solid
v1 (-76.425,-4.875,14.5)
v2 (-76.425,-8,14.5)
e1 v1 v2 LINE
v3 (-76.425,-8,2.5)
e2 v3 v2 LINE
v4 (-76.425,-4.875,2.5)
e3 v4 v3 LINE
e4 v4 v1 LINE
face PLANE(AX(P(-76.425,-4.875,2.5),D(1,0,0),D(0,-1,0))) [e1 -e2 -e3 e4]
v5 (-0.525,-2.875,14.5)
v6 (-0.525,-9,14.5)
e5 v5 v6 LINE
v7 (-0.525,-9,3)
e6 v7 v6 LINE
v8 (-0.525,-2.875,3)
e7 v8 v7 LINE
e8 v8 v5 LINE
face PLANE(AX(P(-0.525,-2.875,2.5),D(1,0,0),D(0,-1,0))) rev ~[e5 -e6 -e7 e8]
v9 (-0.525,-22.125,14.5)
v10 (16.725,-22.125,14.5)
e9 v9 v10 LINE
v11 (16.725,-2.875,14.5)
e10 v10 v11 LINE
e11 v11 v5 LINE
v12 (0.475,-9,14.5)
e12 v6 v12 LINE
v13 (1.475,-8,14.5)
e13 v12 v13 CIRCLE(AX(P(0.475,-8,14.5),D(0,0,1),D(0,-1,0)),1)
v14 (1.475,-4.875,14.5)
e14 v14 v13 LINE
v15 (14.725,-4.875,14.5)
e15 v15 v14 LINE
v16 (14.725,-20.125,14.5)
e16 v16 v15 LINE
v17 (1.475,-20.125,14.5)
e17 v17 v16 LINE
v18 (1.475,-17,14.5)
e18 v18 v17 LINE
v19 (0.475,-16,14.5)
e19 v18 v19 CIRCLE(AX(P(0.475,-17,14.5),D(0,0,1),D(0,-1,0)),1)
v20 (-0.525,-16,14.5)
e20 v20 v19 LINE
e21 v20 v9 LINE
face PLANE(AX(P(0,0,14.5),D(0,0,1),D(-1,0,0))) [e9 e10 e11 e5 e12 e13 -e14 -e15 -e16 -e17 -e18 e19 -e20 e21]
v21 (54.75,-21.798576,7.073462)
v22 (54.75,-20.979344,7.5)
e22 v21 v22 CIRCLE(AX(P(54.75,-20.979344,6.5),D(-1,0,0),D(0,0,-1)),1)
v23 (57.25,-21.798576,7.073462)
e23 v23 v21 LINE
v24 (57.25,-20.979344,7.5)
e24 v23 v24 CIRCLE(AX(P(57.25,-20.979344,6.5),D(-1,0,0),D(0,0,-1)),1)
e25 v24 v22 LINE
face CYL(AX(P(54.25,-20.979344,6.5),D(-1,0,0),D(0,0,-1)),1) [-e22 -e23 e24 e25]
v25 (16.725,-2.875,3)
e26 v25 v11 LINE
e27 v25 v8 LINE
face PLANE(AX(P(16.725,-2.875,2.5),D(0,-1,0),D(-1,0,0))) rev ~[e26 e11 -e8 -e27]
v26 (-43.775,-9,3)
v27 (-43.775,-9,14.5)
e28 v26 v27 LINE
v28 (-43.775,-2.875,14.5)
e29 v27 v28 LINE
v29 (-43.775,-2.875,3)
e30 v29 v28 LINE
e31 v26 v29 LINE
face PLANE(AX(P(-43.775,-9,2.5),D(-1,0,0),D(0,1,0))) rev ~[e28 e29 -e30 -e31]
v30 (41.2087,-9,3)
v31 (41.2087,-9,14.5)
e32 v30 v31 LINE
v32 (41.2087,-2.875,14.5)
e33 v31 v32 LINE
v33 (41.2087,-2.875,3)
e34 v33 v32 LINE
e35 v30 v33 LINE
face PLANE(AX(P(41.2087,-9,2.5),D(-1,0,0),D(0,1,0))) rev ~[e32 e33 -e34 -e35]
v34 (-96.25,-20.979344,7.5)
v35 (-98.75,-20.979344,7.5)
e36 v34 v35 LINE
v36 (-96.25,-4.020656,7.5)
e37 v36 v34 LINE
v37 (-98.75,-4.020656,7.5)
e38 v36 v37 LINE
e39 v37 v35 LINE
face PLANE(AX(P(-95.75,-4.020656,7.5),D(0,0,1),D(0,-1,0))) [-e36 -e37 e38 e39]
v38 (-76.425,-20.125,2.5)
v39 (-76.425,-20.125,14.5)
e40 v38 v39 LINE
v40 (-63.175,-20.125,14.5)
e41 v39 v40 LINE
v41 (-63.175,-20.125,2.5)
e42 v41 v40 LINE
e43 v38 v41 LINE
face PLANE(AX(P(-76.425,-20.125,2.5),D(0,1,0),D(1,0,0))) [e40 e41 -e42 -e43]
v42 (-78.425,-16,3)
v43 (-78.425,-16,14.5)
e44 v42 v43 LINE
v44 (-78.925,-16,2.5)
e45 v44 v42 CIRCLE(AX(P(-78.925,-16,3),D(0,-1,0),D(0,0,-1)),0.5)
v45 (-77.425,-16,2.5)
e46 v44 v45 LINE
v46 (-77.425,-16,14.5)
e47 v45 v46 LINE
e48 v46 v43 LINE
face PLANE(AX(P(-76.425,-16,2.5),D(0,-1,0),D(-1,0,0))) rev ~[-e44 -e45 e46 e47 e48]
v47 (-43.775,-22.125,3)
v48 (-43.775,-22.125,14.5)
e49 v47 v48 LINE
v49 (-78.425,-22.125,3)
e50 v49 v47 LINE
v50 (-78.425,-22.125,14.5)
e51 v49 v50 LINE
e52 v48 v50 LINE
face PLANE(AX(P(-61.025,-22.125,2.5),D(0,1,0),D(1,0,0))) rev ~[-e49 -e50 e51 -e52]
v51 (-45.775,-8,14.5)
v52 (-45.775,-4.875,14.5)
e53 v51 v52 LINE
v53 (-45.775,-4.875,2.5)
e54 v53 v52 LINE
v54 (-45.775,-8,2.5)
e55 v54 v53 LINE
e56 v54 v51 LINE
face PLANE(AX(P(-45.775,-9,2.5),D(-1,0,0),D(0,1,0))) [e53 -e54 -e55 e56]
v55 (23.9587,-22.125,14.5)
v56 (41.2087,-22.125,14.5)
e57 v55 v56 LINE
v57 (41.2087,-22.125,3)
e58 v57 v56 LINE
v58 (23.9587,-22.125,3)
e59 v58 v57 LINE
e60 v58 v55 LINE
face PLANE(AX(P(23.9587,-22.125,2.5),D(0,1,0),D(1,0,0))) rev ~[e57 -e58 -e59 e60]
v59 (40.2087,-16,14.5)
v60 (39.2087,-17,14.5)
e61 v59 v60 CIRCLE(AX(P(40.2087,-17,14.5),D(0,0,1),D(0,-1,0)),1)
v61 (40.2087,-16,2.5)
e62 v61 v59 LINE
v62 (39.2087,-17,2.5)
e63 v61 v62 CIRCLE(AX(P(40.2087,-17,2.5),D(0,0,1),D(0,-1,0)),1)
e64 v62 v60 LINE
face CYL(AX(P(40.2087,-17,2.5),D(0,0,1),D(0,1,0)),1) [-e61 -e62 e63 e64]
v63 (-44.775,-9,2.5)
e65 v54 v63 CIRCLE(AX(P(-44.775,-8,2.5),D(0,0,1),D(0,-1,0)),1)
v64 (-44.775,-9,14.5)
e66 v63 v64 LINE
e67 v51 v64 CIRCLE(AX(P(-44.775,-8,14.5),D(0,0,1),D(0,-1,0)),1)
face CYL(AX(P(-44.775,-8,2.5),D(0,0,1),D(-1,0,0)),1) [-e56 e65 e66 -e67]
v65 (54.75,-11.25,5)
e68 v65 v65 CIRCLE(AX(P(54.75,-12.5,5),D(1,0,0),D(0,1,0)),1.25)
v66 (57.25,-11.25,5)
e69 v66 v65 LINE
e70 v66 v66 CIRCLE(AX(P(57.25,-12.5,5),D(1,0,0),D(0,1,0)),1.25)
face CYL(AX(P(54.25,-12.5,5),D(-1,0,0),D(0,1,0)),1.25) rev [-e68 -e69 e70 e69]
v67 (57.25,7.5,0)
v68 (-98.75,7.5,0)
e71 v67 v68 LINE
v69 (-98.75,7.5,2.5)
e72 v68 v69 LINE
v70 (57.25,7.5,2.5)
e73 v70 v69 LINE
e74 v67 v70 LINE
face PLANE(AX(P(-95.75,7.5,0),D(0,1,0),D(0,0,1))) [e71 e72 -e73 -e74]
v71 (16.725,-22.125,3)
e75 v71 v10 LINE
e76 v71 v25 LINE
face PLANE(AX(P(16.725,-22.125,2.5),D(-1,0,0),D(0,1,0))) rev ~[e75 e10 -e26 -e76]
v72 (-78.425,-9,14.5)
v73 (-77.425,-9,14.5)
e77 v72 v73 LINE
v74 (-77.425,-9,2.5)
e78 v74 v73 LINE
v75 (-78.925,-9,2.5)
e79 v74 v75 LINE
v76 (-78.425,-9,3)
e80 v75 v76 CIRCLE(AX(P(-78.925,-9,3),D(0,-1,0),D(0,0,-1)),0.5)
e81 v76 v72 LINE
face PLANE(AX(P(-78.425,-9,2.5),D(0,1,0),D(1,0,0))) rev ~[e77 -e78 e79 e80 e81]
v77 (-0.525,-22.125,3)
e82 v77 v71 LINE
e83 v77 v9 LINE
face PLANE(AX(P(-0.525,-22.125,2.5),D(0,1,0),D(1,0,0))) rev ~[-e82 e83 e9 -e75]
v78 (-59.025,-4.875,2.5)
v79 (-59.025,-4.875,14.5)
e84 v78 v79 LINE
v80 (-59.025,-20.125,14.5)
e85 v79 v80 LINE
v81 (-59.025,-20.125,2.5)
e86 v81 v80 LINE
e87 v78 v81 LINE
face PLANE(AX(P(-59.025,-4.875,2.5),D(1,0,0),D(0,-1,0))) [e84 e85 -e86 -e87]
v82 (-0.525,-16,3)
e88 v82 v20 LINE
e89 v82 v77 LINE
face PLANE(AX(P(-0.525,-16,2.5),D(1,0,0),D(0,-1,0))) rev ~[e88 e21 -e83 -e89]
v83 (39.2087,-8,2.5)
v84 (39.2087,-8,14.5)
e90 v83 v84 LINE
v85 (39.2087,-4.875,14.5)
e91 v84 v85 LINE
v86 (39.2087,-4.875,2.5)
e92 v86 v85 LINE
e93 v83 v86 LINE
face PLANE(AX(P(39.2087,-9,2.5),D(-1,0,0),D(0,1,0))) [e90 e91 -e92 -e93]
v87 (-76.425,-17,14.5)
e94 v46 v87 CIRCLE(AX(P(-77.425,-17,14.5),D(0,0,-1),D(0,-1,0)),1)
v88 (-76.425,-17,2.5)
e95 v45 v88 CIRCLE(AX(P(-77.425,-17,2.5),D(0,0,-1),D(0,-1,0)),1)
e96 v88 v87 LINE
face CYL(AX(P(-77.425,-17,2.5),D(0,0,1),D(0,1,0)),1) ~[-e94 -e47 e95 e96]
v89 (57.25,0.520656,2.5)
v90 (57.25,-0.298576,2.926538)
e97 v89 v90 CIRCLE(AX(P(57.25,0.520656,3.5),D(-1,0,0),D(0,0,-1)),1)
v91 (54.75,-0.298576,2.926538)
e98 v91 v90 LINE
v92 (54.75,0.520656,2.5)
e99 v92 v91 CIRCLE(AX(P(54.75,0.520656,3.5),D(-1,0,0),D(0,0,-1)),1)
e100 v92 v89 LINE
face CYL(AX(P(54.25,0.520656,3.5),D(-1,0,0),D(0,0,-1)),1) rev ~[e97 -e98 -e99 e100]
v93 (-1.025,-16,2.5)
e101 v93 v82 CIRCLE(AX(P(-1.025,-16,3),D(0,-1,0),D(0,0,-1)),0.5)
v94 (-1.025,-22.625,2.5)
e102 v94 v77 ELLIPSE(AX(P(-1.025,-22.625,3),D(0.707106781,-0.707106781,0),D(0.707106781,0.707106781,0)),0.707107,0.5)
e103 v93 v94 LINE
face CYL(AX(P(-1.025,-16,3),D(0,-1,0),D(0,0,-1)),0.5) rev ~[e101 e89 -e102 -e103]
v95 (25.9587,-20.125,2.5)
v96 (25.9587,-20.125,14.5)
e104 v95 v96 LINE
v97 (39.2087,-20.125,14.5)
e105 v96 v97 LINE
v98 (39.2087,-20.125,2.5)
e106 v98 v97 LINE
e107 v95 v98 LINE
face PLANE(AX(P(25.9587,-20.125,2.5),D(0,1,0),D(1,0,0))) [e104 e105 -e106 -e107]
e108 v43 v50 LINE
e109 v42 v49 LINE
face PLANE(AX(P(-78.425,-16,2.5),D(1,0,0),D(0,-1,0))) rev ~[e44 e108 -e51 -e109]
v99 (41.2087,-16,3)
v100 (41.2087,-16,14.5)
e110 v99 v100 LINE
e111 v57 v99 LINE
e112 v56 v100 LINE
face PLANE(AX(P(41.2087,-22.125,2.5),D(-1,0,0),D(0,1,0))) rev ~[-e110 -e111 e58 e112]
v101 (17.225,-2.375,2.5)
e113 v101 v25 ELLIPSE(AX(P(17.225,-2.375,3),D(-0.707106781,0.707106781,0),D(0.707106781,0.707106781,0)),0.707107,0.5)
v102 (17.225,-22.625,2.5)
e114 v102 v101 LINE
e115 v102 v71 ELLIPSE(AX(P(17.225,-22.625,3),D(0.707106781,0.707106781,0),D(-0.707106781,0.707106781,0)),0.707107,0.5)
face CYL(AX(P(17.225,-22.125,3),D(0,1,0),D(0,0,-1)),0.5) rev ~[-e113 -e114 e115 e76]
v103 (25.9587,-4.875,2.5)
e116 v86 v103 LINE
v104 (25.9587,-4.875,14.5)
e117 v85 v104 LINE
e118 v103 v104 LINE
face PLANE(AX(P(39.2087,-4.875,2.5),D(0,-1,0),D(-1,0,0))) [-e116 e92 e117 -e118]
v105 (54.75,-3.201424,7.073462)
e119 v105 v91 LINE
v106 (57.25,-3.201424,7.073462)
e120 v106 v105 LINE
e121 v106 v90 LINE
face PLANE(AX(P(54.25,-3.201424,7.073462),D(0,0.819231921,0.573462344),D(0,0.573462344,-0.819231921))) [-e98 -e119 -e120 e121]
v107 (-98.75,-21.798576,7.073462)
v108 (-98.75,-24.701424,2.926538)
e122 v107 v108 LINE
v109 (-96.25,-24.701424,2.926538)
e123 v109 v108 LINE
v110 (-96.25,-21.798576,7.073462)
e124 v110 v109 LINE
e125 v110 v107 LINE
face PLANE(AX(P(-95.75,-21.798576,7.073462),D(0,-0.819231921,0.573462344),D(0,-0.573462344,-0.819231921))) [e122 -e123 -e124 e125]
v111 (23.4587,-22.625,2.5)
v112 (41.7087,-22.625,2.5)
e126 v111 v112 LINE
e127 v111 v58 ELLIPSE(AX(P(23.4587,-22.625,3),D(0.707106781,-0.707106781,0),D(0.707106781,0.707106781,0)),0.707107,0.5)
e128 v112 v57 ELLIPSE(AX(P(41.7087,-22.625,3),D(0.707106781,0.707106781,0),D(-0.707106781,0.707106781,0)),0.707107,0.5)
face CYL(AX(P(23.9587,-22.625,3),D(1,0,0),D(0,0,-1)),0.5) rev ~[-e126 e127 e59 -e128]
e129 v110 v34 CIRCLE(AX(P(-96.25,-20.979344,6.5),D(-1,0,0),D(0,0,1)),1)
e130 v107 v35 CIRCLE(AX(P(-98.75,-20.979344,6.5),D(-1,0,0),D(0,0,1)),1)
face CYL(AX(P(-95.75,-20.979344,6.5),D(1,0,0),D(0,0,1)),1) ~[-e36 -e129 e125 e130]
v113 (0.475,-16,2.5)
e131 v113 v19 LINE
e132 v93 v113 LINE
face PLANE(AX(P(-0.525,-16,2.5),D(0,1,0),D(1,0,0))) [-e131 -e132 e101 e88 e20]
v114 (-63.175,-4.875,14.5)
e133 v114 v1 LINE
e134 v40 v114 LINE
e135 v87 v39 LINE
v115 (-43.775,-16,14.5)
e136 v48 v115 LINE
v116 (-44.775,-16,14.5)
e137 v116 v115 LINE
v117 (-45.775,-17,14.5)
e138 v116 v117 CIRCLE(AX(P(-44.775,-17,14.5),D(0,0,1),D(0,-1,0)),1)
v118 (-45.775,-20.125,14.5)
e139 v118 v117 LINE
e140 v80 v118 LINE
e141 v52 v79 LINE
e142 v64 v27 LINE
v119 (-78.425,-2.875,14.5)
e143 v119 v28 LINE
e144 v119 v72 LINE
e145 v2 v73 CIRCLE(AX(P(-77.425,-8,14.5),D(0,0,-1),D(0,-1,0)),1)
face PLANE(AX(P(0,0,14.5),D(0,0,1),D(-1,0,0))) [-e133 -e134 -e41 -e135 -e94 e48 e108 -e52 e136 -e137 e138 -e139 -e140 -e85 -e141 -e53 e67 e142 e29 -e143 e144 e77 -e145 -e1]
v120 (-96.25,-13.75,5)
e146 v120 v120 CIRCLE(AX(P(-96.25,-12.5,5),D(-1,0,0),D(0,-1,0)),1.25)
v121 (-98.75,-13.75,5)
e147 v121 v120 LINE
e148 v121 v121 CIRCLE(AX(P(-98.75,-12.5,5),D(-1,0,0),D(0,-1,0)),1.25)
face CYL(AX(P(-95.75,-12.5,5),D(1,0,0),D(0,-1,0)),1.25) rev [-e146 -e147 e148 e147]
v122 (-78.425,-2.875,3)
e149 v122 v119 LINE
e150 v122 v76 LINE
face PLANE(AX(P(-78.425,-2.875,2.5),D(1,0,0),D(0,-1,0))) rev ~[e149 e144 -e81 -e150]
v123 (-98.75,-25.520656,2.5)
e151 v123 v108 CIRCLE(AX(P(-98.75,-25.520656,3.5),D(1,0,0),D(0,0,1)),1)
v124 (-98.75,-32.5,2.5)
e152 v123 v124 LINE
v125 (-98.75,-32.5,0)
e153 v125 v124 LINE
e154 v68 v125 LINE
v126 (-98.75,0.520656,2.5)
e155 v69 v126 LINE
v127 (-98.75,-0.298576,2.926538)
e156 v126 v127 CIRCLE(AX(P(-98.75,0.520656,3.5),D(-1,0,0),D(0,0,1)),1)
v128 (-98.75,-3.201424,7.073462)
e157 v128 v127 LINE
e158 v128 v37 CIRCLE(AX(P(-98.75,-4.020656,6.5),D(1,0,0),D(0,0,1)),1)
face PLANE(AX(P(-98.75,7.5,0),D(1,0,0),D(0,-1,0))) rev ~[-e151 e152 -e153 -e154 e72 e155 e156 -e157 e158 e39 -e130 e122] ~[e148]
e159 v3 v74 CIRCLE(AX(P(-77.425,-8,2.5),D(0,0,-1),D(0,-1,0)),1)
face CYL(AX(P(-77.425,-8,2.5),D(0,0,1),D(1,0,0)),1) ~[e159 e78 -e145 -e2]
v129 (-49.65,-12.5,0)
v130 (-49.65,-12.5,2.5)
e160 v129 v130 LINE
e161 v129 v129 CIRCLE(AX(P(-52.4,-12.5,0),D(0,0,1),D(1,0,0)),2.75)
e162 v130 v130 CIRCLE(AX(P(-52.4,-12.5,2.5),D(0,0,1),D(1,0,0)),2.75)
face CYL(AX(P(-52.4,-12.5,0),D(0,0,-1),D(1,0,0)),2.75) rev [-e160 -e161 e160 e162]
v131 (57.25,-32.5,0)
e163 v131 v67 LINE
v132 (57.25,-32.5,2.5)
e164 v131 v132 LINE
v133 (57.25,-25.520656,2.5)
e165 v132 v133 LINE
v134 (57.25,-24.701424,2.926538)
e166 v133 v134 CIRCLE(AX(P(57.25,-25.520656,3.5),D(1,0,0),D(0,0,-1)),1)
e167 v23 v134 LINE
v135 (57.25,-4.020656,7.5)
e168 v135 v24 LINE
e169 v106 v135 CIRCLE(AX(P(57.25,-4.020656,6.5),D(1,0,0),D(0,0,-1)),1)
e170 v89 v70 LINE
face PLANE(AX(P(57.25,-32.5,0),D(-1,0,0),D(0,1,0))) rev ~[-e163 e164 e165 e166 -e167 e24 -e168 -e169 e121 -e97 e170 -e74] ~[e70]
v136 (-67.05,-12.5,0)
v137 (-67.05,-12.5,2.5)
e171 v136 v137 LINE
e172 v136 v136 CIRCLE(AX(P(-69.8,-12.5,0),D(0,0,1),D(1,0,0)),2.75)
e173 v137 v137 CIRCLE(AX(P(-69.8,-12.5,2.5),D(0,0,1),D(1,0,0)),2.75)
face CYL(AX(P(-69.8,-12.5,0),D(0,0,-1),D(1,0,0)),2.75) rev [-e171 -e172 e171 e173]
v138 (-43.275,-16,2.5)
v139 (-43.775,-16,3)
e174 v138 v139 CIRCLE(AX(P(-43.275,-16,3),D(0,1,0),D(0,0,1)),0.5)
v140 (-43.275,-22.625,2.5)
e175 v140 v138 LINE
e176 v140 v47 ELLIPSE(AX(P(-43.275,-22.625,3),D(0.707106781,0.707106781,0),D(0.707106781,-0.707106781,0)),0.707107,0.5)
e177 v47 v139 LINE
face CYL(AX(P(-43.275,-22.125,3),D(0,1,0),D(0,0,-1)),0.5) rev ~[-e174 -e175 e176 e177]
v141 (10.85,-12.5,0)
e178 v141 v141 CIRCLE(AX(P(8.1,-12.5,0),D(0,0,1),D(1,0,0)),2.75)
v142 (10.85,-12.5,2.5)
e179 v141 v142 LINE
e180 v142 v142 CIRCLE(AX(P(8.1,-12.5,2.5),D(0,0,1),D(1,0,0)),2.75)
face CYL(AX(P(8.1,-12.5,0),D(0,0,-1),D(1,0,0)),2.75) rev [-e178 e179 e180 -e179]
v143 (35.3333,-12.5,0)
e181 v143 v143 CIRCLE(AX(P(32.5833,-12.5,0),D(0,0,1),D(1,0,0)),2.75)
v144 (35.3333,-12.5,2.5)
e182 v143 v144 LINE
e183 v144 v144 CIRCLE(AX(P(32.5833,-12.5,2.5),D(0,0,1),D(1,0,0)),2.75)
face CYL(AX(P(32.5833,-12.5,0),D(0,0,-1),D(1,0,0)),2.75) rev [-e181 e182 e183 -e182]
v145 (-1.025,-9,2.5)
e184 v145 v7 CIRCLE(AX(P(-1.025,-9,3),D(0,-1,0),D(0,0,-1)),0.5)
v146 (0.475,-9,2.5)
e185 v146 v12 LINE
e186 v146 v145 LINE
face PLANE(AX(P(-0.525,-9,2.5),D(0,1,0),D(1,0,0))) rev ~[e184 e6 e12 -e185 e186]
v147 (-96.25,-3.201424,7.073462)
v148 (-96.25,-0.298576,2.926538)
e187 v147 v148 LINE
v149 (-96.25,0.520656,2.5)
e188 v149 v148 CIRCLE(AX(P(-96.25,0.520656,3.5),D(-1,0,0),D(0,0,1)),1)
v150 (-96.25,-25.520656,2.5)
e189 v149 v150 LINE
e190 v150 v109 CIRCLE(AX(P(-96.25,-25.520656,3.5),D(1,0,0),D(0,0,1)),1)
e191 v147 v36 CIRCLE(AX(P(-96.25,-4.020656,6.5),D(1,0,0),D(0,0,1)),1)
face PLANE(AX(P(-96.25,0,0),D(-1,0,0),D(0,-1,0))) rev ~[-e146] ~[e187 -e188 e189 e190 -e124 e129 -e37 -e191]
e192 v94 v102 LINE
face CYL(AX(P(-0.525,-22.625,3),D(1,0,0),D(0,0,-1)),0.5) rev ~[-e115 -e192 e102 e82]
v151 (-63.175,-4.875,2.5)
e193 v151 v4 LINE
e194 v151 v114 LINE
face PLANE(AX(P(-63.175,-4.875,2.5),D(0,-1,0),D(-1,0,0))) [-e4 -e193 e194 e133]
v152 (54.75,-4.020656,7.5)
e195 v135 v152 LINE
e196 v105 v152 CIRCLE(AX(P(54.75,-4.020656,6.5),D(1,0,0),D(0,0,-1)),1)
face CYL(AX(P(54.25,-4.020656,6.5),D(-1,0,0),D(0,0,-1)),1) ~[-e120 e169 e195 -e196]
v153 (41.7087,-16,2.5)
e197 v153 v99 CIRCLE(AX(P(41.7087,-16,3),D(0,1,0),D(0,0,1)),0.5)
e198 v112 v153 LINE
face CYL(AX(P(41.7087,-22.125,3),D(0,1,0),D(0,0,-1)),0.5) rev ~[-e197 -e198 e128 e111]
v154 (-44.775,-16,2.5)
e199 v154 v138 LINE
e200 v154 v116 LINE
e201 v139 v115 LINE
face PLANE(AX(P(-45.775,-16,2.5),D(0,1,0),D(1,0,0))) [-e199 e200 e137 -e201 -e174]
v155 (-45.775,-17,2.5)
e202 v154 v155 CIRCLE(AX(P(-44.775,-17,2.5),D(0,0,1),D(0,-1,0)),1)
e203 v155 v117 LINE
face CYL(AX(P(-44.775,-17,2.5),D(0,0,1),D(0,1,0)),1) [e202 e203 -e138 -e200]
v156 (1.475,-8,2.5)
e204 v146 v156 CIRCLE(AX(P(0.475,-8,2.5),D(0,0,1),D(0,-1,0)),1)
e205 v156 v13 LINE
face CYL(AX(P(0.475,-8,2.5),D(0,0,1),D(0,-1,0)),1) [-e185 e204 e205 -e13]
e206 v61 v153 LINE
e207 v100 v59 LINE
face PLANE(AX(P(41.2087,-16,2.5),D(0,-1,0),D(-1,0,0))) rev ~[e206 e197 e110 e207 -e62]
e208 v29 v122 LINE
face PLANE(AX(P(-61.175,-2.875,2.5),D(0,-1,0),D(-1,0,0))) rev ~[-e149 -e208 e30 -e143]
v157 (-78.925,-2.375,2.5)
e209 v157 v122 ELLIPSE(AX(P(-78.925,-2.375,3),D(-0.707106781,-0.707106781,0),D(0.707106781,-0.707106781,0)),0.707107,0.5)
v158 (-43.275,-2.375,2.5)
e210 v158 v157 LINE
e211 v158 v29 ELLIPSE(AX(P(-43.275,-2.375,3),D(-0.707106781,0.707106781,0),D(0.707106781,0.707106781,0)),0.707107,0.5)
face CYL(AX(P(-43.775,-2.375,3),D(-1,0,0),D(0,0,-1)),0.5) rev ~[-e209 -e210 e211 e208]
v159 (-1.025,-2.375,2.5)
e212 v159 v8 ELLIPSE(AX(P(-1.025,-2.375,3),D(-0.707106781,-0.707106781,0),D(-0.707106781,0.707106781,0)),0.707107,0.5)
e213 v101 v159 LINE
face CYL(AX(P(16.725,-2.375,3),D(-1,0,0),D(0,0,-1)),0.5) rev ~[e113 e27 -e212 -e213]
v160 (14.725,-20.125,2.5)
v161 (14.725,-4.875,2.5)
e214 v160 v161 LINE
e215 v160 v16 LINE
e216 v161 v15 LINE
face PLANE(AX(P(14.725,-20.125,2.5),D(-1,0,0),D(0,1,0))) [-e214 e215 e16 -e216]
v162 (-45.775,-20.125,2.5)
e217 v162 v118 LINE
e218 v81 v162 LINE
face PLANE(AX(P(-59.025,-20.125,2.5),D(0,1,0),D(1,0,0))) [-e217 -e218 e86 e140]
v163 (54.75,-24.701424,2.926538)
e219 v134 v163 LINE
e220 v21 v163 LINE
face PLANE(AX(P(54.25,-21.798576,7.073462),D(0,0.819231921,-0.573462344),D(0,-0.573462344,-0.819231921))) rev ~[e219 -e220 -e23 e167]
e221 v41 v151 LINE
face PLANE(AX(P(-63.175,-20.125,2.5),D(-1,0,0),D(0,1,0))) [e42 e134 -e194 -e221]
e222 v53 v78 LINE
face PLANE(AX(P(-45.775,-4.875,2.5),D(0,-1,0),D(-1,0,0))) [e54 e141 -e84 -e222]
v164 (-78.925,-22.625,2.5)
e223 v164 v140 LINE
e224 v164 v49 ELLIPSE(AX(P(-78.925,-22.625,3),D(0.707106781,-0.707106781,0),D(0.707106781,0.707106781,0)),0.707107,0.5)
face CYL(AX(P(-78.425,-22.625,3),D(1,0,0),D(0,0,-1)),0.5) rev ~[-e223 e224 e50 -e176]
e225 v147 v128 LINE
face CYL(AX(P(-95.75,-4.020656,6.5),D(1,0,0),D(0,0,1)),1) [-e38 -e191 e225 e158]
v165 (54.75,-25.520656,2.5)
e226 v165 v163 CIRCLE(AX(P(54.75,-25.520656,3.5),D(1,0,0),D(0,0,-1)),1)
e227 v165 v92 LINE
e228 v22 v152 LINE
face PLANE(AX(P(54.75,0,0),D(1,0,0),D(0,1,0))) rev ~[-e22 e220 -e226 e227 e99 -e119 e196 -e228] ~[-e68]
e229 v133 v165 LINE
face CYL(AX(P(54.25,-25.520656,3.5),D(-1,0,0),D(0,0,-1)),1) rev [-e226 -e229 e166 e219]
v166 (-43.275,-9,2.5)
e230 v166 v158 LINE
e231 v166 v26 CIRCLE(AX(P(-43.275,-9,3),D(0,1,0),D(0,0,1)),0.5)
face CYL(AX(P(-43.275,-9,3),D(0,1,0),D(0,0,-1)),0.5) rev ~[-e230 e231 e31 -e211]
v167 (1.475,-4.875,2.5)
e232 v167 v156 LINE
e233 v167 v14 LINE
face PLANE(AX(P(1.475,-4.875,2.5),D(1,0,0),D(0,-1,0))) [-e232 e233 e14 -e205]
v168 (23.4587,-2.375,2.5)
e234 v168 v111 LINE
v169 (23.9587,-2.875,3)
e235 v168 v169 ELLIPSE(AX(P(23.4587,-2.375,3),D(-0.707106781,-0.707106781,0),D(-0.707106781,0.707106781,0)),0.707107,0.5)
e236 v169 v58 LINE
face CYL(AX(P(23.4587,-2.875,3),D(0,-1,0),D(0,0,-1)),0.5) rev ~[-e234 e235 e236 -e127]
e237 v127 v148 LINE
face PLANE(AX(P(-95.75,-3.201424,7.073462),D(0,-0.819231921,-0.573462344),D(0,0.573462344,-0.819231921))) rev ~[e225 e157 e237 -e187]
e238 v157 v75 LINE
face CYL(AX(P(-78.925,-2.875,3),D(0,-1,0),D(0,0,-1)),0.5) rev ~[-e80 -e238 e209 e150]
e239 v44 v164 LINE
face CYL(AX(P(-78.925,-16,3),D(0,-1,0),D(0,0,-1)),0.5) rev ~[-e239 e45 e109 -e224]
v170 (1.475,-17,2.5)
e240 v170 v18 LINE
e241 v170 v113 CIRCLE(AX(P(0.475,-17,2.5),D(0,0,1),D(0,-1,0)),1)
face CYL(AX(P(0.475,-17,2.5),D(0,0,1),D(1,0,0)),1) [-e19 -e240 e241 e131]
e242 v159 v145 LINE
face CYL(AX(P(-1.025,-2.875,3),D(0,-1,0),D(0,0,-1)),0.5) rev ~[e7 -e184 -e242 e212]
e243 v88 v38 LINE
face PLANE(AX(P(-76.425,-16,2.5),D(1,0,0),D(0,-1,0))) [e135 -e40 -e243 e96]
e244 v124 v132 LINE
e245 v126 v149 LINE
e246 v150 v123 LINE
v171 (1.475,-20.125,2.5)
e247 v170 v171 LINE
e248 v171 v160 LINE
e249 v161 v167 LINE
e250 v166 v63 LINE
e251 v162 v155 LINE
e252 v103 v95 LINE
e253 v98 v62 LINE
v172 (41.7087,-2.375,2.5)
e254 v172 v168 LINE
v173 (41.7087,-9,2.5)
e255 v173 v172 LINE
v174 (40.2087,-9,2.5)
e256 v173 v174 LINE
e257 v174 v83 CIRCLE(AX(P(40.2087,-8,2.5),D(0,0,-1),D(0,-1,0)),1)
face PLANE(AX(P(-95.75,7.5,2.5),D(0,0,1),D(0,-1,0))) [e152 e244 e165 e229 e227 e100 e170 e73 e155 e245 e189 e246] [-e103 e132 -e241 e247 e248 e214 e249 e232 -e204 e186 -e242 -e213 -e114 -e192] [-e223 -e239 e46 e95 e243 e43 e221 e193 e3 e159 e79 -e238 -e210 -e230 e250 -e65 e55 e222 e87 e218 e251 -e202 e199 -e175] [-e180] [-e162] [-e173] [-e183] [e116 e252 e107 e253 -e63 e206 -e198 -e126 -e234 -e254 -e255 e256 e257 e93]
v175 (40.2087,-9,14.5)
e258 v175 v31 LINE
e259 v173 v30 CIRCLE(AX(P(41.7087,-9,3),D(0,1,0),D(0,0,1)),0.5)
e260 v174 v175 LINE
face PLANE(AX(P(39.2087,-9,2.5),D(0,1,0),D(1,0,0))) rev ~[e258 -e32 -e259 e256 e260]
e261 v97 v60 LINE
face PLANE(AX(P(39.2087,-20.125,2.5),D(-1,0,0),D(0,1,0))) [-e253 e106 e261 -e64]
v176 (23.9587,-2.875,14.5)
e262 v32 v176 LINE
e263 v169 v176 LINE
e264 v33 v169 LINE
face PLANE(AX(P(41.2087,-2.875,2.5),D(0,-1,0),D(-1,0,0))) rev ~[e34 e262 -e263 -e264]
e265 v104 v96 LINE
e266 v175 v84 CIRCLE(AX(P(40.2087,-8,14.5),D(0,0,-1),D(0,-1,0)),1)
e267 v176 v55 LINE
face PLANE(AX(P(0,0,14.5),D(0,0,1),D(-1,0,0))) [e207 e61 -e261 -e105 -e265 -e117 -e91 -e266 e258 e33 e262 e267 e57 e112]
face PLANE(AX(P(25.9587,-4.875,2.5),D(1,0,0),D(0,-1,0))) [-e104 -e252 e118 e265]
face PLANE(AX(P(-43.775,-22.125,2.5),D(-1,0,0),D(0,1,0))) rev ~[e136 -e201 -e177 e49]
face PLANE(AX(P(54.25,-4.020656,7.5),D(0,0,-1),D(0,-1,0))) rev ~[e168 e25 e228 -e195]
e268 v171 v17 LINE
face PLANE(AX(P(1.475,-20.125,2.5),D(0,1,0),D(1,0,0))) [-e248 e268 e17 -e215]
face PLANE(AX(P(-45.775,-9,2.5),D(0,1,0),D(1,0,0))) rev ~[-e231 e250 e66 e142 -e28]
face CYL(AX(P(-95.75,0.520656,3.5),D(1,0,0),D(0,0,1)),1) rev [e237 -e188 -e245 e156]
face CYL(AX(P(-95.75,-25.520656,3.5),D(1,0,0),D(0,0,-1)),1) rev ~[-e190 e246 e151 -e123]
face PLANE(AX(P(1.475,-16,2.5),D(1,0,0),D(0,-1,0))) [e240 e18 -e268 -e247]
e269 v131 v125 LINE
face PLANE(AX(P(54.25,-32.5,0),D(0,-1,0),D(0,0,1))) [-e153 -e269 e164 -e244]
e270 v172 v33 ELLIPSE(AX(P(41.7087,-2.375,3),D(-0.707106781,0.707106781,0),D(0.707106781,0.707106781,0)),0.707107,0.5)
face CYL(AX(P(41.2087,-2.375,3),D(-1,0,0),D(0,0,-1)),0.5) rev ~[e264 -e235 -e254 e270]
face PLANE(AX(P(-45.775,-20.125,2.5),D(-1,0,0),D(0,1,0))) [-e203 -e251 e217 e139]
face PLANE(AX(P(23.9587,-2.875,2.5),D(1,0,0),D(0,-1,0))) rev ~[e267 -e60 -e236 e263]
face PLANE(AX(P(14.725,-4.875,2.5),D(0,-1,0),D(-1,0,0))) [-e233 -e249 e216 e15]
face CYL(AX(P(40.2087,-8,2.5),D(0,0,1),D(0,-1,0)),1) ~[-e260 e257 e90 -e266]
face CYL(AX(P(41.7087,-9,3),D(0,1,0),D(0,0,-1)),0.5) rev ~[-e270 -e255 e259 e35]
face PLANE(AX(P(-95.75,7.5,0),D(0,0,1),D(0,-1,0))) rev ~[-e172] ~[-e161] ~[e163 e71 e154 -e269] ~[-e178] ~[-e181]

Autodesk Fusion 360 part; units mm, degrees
sketch "Sketch1" plane through (0, 0, 0) normal (0, 0, 1) x (1, 0, 0)
  line L0 (68.541, -12.5) -> (-110, -12.5) construction
  line L1 (-20.75, -50) -> (-20.75, 25) construction
  point P0 (-20.75, -12.5)
sketch "Sketch2" plane through (0, 0, 0) normal (0, 0, 1) x (1, 0, 0)
  line L0 (54.25, 7.5) -> (-95.75, 7.5)
  line L1 (-95.75, 7.5) -> (-95.75, -32.5)
  line L2 (-95.75, -32.5) -> (54.25, -32.5)
  line L3 (54.25, -32.5) -> (54.25, 7.5)
  line L4 (54.25, 7.5) -> (-95.75, -32.5) construction
  line L5 (-95.75, 7.5) -> (54.25, -32.5) construction
  line L6 (26.6666, -12.5) -> (38.5, -12.5) construction
  circle A0 centre (32.5833, -12.5) radius 2.75
  line L7 (14, -12.5) -> (2.2, -12.5) construction
  circle A1 centre (8.1, -12.5) radius 2.75
  line L8 (-49.1, -12.5) -> (-52.4, -12.5) construction
  circle A2 centre (-52.4, -12.5) radius 2.75
  line L9 (-73.1, -12.5) -> (-69.8, -12.5) construction
  circle A3 centre (-69.8, -12.5) radius 2.75
  point P0 (-20.75, -12.5)
  dimension "d1" = 150
  dimension "d2" = 40
  dimension "d3" = 5.5
  dimension "d4" = 5.5
  dimension "d5" = 3.3
  dimension "d6" = 5.5
  dimension "d7" = 3.3
  dimension "d8" = 5.5
extrude "Extrude1" add sketch "Sketch2" along normal blind 2.5
sketch "Sketch3" plane through (0, 0, 2.5) normal (0, 0, 1) x (-1, 0, 0)
  circle A0 centre (-32.5833, 12.5) radius 2.75
  circle A1 centre (69.8, 12.5) radius 2.75
  circle A2 centre (-8.1, 12.5) radius 2.75
  circle A3 centre (52.4, 12.5) radius 2.75
  line L0 (-54.25, 32.5) -> (-54.25, -7.5)
  line L1 (-54.25, -7.5) -> (95.75, -7.5)
  line L2 (95.75, -7.5) -> (95.75, 32.5)
  line L3 (95.75, 32.5) -> (-54.25, 32.5)
sketch "Sketch4" plane through (0, 0, 2.5) normal (0, 0, 1) x (-1, 0, 0)
  line L0 (-29.8338, 12.5) -> (-35.3337, 12.5) construction
  line L1 (-39.2087, 4.875) -> (-25.9587, 4.875)
  line L2 (-25.9587, 4.875) -> (-25.9587, 20.125)
  line L3 (-25.9587, 20.125) -> (-39.2087, 20.125)
  line L4 (-39.2087, 20.125) -> (-39.2087, 4.875)
  line L5 (-39.2087, 4.875) -> (-25.9587, 20.125) construction
  line L6 (-25.9587, 4.875) -> (-39.2087, 20.125) construction
  line L7 (-41.2087, 2.875) -> (-23.9587, 2.875)
  line L8 (-23.9587, 2.875) -> (-23.9587, 22.125)
  line L9 (-23.9587, 22.125) -> (-41.2087, 22.125)
  line L10 (-41.2087, 22.125) -> (-41.2087, 2.875)
  line L11 (-41.2087, 2.875) -> (-23.9587, 22.125) construction
  line L12 (-23.9587, 2.875) -> (-41.2087, 22.125) construction
  line L13 (-39.2087, 12.5) -> (-39.2087, 9)
  line L14 (-39.2087, 9) -> (-41.2087, 9)
  line L15 (-41.2087, 9) -> (-41.2087, 16)
  line L16 (-41.2087, 16) -> (-39.2087, 16)
  line L17 (-39.2087, 16) -> (-39.2087, 12.5)
  line L18 (-5.35, 12.5) -> (-10.85, 12.5) construction
  line L19 (-14.725, 4.875) -> (-1.475, 4.875)
  line L20 (-1.475, 4.875) -> (-1.475, 20.125)
  line L21 (-1.475, 20.125) -> (-14.725, 20.125)
  line L22 (-14.725, 20.125) -> (-14.725, 4.875)
  line L23 (-14.725, 4.875) -> (-1.475, 20.125) construction
  line L24 (-1.475, 4.875) -> (-14.725, 20.125) construction
  line L25 (-16.725, 2.875) -> (0.525, 2.875)
  line L26 (0.525, 2.875) -> (0.525, 22.125)
  line L27 (0.525, 22.125) -> (-16.725, 22.125)
  line L28 (-16.725, 22.125) -> (-16.725, 2.875)
  line L29 (-16.725, 2.875) -> (0.525, 22.125) construction
  line L30 (0.525, 2.875) -> (-16.725, 22.125) construction
  line L31 (-1.475, 16) -> (-1.475, 9)
  line L32 (0.525, 16) -> (0.525, 9)
  line L33 (0.525, 9) -> (-1.475, 9)
  line L34 (0.525, 16) -> (-1.475, 16)
  line L35 (55.15, 12.5) -> (49.65, 12.5) construction
  line L36 (45.775, 4.875) -> (59.025, 4.875)
  line L37 (59.025, 4.875) -> (59.025, 20.125)
  line L38 (59.025, 20.125) -> (45.775, 20.125)
  line L39 (45.775, 20.125) -> (45.775, 4.875)
  line L40 (45.775, 4.875) -> (59.025, 20.125) construction
  line L41 (59.025, 4.875) -> (45.775, 20.125) construction
  line L42 (61.025, 22.125) -> (43.775, 22.125)
  line L43 (43.775, 22.125) -> (43.775, 2.875)
  line L44 (43.775, 2.875) -> (61.025, 2.875)
  line L45 (61.025, 22.125) -> (43.775, 2.875) construction
  line L46 (43.775, 22.125) -> (61.025, 2.875) construction
  line L47 (72.55, 12.5) -> (67.05, 12.5) construction
  line L48 (63.175, 4.875) -> (76.425, 4.875)
  line L49 (76.425, 4.875) -> (76.425, 20.125)
  line L50 (76.425, 20.125) -> (63.175, 20.125)
  line L51 (63.175, 20.125) -> (63.175, 4.875)
  line L52 (63.175, 4.875) -> (76.425, 20.125) construction
  line L53 (76.425, 4.875) -> (63.175, 20.125) construction
  line L54 (61.175, 2.875) -> (78.425, 2.875)
  line L55 (78.425, 2.875) -> (78.425, 22.125)
  line L56 (78.425, 22.125) -> (61.175, 22.125)
  line L57 (61.175, 2.875) -> (78.425, 22.125) construction
  line L58 (78.425, 2.875) -> (61.175, 22.125) construction
  line L59 (61.175, 2.875) -> (61.025, 2.875)
  line L60 (61.175, 22.125) -> (61.025, 22.125)
  line L61 (43.775, 16) -> (43.775, 9)
  line L62 (45.775, 16) -> (45.775, 9)
  line L63 (45.775, 9) -> (43.775, 9)
  line L64 (45.775, 16) -> (43.775, 16)
  line L65 (76.425, 16) -> (76.425, 9)
  line L66 (78.425, 16) -> (78.425, 9)
  line L67 (78.425, 9) -> (76.425, 9)
  line L68 (76.425, 16) -> (78.425, 16)
  point P0 (-32.5837, 12.5)
  point P1 (-32.5837, 12.5)
  point P2 (-8.1, 12.5)
  point P3 (-8.1, 12.5)
  point P4 (-1.475, 12.5)
  point P5 (0.525, 12.5)
  point P6 (52.4, 12.5)
  point P7 (52.4, 12.5)
  point P8 (69.8, 12.5)
  point P9 (69.8, 12.5)
  point P10 (43.775, 12.5)
  point P11 (45.775, 12.5)
  point P12 (76.425, 12.5)
  point P13 (78.425, 12.5)
  dimension "d11" = 13.25
  dimension "d12" = 15.25
  dimension "d13" = 17.25
  dimension "d14" = 19.25
  dimension "d15" = 3.5
  dimension "d16" = 7
  dimension "d17" = 13.25
  dimension "d18" = 15.25
  dimension "d19" = 17.25
  dimension "d20" = 19.25
  dimension "d21" = 7
  dimension "d22" = 7
  dimension "d23" = 13.25
  dimension "d24" = 15.25
  dimension "d25" = 17.25
  dimension "d26" = 19.25
  dimension "d27" = 13.25
  dimension "d28" = 15.25
  dimension "d29" = 17.25
  dimension "d30" = 19.25
  dimension "d31" = 7
  dimension "d32" = 7
  dimension "d33" = 7
  dimension "d34" = 7
extrude "Extrude2" add sketch "Sketch4" along normal blind 12 contours L1 L2 L3 L4 L7 L8 L9 L10 L14 L16 | L19 L20 L21 L22 L25 L26 L27 L28 L33 L34 | L36 L37 L38 L39 L42 L43 L44 L48 L49 L50 L51 L54 L55 L56 L59 L60 L63 L64 L67 L68
sketch "Sketch5" plane through (0, 0, 2.5) normal (0, 0, 1) x (-1, 0, 0)
sketch "Sketch7" plane through (54.25, 0, 0) normal (1, 0, 0) x (0, 1, 0)
  line L0 (-32.5, 0) -> (7.5, 0)
  line L1 (7.5, 0) -> (7.5, 2.5)
  line L2 (7.5, 2.5) -> (-32.5, 2.5)
  line L3 (-32.5, 2.5) -> (-32.5, 0)
  line L4 (-25, 2.5) -> (0, 2.5)
  line L5 (-21.5, 2.5) -> (-3.5, 2.5)
  line L6 (-12.5, 7.5) -> (-3.5, 7.5)
  line L7 (-3.5, 7.5) -> (0, 2.5)
  line L8 (-12.5, 7.5) -> (-21.5, 7.5)
  line L9 (-21.5, 7.5) -> (-25, 2.5)
  line L10 (-12.5, 2.5) -> (-12.5, 7.5) construction
  circle A0 centre (-12.5, 5) radius 1.25
  point P0 (-12.5, 2.5)
  point P1 (-12.5, 2.5)
  dimension "d39" = 25
  dimension "d40" = 18
  dimension "d41" = 2.5
extrude "Extrude3" add sketch "Sketch7" against normal blind 2.5 contours L2 L4 L5 L6 L7 L8 L9
sketch "Sketch8" plane through (-95.75, 0, 0) normal (-1, 0, 0) x (0, -1, 0)
  line L0 (-7.5, 0) -> (32.5, 0)
  line L1 (32.5, 0) -> (32.5, 2.5)
  line L2 (32.5, 2.5) -> (-7.5, 2.5)
  line L3 (-7.5, 2.5) -> (-7.5, 0)
  line L4 (0, 2.5) -> (25, 2.5)
  line L5 (3.5, 7.5) -> (21.5, 7.5)
  line L6 (3.5, 7.5) -> (0, 2.5)
  line L7 (21.5, 7.5) -> (25, 2.5)
  circle A0 centre (12.5, 5) radius 1.25
  point P0 (12.5, 2.5)
  dimension "d44" = 25
  dimension "d46" = 18
  dimension "d47" = 2.5
extrude "Extrude4" add sketch "Sketch8" against normal blind 2.5 contours L2 L4 L5 L6 L7
fillet "Fillet1" radius 1 4 edges at (-94.5, -21.5, 7.5) (-94.5, -25, 2.5) (-94.5, -3.5, 7.5) (-94.5, 0, 2.5)
fillet "Fillet2" radius 1 4 edges at (53, -25, 2.5) (53, -21.5, 7.5) (53, -3.5, 7.5) (53, 0, 2.5)
fillet "Fillet3" radius 0.5 5 edges at (41.2087, -19.0625, 2.5) (32.5837, -22.125, 2.5) (41.2087, -5.9375, 2.5) (32.5837, -2.875, 2.5) (23.9587, -12.5, 2.5)
fillet "Fillet4" radius 0.5 15 edges at (16.725, -12.5, 2.5) (8.1, -2.875, 2.5) (8.1, -22.125, 2.5) (-0.525, -5.9375, 2.5) (-0.525, -19.0625, 2.5) (-52.4, -22.125, 2.5) (-61.1, -22.125, 2.5) (-69.8, -22.125, 2.5) (-78.425, -19.0625, 2.5) (-78.425, -5.9375, 2.5) (-43.775, -19.0625, 2.5) (-43.775, -5.9375, 2.5) (-69.8, -2.875, 2.5) (-61.1, -2.875, 2.5) (-52.4, -2.875, 2.5)
fillet "Fillet5" radius 1 8 edges at (-45.775, -16, 8.5) (-45.775, -9, 8.5) (-76.425, -9, 8.5) (-76.425, -16, 8.5) (1.475, -16, 8.5) (1.475, -9, 8.5) (39.2087, -16, 8.5) (39.2087, -9, 8.5)
extrude "Extrude5" add 1 faces at (54.25, -20.0421, 4.8192) along direction (1, 0, 0) blind 3
extrude "Extrude6" cut 1 faces at (51.75, -20.0421, 4.8192) along direction (1, 0, 0) blind 3
extrude "Extrude7" add 1 faces at (-95.75, -20.0421, 4.8192) along direction (-1, 0, 0) blind 3
extrude "Extrude8" cut 1 faces at (-93.25, -20.0421, 4.8192) along direction (-1, 0, 0) blind 3
